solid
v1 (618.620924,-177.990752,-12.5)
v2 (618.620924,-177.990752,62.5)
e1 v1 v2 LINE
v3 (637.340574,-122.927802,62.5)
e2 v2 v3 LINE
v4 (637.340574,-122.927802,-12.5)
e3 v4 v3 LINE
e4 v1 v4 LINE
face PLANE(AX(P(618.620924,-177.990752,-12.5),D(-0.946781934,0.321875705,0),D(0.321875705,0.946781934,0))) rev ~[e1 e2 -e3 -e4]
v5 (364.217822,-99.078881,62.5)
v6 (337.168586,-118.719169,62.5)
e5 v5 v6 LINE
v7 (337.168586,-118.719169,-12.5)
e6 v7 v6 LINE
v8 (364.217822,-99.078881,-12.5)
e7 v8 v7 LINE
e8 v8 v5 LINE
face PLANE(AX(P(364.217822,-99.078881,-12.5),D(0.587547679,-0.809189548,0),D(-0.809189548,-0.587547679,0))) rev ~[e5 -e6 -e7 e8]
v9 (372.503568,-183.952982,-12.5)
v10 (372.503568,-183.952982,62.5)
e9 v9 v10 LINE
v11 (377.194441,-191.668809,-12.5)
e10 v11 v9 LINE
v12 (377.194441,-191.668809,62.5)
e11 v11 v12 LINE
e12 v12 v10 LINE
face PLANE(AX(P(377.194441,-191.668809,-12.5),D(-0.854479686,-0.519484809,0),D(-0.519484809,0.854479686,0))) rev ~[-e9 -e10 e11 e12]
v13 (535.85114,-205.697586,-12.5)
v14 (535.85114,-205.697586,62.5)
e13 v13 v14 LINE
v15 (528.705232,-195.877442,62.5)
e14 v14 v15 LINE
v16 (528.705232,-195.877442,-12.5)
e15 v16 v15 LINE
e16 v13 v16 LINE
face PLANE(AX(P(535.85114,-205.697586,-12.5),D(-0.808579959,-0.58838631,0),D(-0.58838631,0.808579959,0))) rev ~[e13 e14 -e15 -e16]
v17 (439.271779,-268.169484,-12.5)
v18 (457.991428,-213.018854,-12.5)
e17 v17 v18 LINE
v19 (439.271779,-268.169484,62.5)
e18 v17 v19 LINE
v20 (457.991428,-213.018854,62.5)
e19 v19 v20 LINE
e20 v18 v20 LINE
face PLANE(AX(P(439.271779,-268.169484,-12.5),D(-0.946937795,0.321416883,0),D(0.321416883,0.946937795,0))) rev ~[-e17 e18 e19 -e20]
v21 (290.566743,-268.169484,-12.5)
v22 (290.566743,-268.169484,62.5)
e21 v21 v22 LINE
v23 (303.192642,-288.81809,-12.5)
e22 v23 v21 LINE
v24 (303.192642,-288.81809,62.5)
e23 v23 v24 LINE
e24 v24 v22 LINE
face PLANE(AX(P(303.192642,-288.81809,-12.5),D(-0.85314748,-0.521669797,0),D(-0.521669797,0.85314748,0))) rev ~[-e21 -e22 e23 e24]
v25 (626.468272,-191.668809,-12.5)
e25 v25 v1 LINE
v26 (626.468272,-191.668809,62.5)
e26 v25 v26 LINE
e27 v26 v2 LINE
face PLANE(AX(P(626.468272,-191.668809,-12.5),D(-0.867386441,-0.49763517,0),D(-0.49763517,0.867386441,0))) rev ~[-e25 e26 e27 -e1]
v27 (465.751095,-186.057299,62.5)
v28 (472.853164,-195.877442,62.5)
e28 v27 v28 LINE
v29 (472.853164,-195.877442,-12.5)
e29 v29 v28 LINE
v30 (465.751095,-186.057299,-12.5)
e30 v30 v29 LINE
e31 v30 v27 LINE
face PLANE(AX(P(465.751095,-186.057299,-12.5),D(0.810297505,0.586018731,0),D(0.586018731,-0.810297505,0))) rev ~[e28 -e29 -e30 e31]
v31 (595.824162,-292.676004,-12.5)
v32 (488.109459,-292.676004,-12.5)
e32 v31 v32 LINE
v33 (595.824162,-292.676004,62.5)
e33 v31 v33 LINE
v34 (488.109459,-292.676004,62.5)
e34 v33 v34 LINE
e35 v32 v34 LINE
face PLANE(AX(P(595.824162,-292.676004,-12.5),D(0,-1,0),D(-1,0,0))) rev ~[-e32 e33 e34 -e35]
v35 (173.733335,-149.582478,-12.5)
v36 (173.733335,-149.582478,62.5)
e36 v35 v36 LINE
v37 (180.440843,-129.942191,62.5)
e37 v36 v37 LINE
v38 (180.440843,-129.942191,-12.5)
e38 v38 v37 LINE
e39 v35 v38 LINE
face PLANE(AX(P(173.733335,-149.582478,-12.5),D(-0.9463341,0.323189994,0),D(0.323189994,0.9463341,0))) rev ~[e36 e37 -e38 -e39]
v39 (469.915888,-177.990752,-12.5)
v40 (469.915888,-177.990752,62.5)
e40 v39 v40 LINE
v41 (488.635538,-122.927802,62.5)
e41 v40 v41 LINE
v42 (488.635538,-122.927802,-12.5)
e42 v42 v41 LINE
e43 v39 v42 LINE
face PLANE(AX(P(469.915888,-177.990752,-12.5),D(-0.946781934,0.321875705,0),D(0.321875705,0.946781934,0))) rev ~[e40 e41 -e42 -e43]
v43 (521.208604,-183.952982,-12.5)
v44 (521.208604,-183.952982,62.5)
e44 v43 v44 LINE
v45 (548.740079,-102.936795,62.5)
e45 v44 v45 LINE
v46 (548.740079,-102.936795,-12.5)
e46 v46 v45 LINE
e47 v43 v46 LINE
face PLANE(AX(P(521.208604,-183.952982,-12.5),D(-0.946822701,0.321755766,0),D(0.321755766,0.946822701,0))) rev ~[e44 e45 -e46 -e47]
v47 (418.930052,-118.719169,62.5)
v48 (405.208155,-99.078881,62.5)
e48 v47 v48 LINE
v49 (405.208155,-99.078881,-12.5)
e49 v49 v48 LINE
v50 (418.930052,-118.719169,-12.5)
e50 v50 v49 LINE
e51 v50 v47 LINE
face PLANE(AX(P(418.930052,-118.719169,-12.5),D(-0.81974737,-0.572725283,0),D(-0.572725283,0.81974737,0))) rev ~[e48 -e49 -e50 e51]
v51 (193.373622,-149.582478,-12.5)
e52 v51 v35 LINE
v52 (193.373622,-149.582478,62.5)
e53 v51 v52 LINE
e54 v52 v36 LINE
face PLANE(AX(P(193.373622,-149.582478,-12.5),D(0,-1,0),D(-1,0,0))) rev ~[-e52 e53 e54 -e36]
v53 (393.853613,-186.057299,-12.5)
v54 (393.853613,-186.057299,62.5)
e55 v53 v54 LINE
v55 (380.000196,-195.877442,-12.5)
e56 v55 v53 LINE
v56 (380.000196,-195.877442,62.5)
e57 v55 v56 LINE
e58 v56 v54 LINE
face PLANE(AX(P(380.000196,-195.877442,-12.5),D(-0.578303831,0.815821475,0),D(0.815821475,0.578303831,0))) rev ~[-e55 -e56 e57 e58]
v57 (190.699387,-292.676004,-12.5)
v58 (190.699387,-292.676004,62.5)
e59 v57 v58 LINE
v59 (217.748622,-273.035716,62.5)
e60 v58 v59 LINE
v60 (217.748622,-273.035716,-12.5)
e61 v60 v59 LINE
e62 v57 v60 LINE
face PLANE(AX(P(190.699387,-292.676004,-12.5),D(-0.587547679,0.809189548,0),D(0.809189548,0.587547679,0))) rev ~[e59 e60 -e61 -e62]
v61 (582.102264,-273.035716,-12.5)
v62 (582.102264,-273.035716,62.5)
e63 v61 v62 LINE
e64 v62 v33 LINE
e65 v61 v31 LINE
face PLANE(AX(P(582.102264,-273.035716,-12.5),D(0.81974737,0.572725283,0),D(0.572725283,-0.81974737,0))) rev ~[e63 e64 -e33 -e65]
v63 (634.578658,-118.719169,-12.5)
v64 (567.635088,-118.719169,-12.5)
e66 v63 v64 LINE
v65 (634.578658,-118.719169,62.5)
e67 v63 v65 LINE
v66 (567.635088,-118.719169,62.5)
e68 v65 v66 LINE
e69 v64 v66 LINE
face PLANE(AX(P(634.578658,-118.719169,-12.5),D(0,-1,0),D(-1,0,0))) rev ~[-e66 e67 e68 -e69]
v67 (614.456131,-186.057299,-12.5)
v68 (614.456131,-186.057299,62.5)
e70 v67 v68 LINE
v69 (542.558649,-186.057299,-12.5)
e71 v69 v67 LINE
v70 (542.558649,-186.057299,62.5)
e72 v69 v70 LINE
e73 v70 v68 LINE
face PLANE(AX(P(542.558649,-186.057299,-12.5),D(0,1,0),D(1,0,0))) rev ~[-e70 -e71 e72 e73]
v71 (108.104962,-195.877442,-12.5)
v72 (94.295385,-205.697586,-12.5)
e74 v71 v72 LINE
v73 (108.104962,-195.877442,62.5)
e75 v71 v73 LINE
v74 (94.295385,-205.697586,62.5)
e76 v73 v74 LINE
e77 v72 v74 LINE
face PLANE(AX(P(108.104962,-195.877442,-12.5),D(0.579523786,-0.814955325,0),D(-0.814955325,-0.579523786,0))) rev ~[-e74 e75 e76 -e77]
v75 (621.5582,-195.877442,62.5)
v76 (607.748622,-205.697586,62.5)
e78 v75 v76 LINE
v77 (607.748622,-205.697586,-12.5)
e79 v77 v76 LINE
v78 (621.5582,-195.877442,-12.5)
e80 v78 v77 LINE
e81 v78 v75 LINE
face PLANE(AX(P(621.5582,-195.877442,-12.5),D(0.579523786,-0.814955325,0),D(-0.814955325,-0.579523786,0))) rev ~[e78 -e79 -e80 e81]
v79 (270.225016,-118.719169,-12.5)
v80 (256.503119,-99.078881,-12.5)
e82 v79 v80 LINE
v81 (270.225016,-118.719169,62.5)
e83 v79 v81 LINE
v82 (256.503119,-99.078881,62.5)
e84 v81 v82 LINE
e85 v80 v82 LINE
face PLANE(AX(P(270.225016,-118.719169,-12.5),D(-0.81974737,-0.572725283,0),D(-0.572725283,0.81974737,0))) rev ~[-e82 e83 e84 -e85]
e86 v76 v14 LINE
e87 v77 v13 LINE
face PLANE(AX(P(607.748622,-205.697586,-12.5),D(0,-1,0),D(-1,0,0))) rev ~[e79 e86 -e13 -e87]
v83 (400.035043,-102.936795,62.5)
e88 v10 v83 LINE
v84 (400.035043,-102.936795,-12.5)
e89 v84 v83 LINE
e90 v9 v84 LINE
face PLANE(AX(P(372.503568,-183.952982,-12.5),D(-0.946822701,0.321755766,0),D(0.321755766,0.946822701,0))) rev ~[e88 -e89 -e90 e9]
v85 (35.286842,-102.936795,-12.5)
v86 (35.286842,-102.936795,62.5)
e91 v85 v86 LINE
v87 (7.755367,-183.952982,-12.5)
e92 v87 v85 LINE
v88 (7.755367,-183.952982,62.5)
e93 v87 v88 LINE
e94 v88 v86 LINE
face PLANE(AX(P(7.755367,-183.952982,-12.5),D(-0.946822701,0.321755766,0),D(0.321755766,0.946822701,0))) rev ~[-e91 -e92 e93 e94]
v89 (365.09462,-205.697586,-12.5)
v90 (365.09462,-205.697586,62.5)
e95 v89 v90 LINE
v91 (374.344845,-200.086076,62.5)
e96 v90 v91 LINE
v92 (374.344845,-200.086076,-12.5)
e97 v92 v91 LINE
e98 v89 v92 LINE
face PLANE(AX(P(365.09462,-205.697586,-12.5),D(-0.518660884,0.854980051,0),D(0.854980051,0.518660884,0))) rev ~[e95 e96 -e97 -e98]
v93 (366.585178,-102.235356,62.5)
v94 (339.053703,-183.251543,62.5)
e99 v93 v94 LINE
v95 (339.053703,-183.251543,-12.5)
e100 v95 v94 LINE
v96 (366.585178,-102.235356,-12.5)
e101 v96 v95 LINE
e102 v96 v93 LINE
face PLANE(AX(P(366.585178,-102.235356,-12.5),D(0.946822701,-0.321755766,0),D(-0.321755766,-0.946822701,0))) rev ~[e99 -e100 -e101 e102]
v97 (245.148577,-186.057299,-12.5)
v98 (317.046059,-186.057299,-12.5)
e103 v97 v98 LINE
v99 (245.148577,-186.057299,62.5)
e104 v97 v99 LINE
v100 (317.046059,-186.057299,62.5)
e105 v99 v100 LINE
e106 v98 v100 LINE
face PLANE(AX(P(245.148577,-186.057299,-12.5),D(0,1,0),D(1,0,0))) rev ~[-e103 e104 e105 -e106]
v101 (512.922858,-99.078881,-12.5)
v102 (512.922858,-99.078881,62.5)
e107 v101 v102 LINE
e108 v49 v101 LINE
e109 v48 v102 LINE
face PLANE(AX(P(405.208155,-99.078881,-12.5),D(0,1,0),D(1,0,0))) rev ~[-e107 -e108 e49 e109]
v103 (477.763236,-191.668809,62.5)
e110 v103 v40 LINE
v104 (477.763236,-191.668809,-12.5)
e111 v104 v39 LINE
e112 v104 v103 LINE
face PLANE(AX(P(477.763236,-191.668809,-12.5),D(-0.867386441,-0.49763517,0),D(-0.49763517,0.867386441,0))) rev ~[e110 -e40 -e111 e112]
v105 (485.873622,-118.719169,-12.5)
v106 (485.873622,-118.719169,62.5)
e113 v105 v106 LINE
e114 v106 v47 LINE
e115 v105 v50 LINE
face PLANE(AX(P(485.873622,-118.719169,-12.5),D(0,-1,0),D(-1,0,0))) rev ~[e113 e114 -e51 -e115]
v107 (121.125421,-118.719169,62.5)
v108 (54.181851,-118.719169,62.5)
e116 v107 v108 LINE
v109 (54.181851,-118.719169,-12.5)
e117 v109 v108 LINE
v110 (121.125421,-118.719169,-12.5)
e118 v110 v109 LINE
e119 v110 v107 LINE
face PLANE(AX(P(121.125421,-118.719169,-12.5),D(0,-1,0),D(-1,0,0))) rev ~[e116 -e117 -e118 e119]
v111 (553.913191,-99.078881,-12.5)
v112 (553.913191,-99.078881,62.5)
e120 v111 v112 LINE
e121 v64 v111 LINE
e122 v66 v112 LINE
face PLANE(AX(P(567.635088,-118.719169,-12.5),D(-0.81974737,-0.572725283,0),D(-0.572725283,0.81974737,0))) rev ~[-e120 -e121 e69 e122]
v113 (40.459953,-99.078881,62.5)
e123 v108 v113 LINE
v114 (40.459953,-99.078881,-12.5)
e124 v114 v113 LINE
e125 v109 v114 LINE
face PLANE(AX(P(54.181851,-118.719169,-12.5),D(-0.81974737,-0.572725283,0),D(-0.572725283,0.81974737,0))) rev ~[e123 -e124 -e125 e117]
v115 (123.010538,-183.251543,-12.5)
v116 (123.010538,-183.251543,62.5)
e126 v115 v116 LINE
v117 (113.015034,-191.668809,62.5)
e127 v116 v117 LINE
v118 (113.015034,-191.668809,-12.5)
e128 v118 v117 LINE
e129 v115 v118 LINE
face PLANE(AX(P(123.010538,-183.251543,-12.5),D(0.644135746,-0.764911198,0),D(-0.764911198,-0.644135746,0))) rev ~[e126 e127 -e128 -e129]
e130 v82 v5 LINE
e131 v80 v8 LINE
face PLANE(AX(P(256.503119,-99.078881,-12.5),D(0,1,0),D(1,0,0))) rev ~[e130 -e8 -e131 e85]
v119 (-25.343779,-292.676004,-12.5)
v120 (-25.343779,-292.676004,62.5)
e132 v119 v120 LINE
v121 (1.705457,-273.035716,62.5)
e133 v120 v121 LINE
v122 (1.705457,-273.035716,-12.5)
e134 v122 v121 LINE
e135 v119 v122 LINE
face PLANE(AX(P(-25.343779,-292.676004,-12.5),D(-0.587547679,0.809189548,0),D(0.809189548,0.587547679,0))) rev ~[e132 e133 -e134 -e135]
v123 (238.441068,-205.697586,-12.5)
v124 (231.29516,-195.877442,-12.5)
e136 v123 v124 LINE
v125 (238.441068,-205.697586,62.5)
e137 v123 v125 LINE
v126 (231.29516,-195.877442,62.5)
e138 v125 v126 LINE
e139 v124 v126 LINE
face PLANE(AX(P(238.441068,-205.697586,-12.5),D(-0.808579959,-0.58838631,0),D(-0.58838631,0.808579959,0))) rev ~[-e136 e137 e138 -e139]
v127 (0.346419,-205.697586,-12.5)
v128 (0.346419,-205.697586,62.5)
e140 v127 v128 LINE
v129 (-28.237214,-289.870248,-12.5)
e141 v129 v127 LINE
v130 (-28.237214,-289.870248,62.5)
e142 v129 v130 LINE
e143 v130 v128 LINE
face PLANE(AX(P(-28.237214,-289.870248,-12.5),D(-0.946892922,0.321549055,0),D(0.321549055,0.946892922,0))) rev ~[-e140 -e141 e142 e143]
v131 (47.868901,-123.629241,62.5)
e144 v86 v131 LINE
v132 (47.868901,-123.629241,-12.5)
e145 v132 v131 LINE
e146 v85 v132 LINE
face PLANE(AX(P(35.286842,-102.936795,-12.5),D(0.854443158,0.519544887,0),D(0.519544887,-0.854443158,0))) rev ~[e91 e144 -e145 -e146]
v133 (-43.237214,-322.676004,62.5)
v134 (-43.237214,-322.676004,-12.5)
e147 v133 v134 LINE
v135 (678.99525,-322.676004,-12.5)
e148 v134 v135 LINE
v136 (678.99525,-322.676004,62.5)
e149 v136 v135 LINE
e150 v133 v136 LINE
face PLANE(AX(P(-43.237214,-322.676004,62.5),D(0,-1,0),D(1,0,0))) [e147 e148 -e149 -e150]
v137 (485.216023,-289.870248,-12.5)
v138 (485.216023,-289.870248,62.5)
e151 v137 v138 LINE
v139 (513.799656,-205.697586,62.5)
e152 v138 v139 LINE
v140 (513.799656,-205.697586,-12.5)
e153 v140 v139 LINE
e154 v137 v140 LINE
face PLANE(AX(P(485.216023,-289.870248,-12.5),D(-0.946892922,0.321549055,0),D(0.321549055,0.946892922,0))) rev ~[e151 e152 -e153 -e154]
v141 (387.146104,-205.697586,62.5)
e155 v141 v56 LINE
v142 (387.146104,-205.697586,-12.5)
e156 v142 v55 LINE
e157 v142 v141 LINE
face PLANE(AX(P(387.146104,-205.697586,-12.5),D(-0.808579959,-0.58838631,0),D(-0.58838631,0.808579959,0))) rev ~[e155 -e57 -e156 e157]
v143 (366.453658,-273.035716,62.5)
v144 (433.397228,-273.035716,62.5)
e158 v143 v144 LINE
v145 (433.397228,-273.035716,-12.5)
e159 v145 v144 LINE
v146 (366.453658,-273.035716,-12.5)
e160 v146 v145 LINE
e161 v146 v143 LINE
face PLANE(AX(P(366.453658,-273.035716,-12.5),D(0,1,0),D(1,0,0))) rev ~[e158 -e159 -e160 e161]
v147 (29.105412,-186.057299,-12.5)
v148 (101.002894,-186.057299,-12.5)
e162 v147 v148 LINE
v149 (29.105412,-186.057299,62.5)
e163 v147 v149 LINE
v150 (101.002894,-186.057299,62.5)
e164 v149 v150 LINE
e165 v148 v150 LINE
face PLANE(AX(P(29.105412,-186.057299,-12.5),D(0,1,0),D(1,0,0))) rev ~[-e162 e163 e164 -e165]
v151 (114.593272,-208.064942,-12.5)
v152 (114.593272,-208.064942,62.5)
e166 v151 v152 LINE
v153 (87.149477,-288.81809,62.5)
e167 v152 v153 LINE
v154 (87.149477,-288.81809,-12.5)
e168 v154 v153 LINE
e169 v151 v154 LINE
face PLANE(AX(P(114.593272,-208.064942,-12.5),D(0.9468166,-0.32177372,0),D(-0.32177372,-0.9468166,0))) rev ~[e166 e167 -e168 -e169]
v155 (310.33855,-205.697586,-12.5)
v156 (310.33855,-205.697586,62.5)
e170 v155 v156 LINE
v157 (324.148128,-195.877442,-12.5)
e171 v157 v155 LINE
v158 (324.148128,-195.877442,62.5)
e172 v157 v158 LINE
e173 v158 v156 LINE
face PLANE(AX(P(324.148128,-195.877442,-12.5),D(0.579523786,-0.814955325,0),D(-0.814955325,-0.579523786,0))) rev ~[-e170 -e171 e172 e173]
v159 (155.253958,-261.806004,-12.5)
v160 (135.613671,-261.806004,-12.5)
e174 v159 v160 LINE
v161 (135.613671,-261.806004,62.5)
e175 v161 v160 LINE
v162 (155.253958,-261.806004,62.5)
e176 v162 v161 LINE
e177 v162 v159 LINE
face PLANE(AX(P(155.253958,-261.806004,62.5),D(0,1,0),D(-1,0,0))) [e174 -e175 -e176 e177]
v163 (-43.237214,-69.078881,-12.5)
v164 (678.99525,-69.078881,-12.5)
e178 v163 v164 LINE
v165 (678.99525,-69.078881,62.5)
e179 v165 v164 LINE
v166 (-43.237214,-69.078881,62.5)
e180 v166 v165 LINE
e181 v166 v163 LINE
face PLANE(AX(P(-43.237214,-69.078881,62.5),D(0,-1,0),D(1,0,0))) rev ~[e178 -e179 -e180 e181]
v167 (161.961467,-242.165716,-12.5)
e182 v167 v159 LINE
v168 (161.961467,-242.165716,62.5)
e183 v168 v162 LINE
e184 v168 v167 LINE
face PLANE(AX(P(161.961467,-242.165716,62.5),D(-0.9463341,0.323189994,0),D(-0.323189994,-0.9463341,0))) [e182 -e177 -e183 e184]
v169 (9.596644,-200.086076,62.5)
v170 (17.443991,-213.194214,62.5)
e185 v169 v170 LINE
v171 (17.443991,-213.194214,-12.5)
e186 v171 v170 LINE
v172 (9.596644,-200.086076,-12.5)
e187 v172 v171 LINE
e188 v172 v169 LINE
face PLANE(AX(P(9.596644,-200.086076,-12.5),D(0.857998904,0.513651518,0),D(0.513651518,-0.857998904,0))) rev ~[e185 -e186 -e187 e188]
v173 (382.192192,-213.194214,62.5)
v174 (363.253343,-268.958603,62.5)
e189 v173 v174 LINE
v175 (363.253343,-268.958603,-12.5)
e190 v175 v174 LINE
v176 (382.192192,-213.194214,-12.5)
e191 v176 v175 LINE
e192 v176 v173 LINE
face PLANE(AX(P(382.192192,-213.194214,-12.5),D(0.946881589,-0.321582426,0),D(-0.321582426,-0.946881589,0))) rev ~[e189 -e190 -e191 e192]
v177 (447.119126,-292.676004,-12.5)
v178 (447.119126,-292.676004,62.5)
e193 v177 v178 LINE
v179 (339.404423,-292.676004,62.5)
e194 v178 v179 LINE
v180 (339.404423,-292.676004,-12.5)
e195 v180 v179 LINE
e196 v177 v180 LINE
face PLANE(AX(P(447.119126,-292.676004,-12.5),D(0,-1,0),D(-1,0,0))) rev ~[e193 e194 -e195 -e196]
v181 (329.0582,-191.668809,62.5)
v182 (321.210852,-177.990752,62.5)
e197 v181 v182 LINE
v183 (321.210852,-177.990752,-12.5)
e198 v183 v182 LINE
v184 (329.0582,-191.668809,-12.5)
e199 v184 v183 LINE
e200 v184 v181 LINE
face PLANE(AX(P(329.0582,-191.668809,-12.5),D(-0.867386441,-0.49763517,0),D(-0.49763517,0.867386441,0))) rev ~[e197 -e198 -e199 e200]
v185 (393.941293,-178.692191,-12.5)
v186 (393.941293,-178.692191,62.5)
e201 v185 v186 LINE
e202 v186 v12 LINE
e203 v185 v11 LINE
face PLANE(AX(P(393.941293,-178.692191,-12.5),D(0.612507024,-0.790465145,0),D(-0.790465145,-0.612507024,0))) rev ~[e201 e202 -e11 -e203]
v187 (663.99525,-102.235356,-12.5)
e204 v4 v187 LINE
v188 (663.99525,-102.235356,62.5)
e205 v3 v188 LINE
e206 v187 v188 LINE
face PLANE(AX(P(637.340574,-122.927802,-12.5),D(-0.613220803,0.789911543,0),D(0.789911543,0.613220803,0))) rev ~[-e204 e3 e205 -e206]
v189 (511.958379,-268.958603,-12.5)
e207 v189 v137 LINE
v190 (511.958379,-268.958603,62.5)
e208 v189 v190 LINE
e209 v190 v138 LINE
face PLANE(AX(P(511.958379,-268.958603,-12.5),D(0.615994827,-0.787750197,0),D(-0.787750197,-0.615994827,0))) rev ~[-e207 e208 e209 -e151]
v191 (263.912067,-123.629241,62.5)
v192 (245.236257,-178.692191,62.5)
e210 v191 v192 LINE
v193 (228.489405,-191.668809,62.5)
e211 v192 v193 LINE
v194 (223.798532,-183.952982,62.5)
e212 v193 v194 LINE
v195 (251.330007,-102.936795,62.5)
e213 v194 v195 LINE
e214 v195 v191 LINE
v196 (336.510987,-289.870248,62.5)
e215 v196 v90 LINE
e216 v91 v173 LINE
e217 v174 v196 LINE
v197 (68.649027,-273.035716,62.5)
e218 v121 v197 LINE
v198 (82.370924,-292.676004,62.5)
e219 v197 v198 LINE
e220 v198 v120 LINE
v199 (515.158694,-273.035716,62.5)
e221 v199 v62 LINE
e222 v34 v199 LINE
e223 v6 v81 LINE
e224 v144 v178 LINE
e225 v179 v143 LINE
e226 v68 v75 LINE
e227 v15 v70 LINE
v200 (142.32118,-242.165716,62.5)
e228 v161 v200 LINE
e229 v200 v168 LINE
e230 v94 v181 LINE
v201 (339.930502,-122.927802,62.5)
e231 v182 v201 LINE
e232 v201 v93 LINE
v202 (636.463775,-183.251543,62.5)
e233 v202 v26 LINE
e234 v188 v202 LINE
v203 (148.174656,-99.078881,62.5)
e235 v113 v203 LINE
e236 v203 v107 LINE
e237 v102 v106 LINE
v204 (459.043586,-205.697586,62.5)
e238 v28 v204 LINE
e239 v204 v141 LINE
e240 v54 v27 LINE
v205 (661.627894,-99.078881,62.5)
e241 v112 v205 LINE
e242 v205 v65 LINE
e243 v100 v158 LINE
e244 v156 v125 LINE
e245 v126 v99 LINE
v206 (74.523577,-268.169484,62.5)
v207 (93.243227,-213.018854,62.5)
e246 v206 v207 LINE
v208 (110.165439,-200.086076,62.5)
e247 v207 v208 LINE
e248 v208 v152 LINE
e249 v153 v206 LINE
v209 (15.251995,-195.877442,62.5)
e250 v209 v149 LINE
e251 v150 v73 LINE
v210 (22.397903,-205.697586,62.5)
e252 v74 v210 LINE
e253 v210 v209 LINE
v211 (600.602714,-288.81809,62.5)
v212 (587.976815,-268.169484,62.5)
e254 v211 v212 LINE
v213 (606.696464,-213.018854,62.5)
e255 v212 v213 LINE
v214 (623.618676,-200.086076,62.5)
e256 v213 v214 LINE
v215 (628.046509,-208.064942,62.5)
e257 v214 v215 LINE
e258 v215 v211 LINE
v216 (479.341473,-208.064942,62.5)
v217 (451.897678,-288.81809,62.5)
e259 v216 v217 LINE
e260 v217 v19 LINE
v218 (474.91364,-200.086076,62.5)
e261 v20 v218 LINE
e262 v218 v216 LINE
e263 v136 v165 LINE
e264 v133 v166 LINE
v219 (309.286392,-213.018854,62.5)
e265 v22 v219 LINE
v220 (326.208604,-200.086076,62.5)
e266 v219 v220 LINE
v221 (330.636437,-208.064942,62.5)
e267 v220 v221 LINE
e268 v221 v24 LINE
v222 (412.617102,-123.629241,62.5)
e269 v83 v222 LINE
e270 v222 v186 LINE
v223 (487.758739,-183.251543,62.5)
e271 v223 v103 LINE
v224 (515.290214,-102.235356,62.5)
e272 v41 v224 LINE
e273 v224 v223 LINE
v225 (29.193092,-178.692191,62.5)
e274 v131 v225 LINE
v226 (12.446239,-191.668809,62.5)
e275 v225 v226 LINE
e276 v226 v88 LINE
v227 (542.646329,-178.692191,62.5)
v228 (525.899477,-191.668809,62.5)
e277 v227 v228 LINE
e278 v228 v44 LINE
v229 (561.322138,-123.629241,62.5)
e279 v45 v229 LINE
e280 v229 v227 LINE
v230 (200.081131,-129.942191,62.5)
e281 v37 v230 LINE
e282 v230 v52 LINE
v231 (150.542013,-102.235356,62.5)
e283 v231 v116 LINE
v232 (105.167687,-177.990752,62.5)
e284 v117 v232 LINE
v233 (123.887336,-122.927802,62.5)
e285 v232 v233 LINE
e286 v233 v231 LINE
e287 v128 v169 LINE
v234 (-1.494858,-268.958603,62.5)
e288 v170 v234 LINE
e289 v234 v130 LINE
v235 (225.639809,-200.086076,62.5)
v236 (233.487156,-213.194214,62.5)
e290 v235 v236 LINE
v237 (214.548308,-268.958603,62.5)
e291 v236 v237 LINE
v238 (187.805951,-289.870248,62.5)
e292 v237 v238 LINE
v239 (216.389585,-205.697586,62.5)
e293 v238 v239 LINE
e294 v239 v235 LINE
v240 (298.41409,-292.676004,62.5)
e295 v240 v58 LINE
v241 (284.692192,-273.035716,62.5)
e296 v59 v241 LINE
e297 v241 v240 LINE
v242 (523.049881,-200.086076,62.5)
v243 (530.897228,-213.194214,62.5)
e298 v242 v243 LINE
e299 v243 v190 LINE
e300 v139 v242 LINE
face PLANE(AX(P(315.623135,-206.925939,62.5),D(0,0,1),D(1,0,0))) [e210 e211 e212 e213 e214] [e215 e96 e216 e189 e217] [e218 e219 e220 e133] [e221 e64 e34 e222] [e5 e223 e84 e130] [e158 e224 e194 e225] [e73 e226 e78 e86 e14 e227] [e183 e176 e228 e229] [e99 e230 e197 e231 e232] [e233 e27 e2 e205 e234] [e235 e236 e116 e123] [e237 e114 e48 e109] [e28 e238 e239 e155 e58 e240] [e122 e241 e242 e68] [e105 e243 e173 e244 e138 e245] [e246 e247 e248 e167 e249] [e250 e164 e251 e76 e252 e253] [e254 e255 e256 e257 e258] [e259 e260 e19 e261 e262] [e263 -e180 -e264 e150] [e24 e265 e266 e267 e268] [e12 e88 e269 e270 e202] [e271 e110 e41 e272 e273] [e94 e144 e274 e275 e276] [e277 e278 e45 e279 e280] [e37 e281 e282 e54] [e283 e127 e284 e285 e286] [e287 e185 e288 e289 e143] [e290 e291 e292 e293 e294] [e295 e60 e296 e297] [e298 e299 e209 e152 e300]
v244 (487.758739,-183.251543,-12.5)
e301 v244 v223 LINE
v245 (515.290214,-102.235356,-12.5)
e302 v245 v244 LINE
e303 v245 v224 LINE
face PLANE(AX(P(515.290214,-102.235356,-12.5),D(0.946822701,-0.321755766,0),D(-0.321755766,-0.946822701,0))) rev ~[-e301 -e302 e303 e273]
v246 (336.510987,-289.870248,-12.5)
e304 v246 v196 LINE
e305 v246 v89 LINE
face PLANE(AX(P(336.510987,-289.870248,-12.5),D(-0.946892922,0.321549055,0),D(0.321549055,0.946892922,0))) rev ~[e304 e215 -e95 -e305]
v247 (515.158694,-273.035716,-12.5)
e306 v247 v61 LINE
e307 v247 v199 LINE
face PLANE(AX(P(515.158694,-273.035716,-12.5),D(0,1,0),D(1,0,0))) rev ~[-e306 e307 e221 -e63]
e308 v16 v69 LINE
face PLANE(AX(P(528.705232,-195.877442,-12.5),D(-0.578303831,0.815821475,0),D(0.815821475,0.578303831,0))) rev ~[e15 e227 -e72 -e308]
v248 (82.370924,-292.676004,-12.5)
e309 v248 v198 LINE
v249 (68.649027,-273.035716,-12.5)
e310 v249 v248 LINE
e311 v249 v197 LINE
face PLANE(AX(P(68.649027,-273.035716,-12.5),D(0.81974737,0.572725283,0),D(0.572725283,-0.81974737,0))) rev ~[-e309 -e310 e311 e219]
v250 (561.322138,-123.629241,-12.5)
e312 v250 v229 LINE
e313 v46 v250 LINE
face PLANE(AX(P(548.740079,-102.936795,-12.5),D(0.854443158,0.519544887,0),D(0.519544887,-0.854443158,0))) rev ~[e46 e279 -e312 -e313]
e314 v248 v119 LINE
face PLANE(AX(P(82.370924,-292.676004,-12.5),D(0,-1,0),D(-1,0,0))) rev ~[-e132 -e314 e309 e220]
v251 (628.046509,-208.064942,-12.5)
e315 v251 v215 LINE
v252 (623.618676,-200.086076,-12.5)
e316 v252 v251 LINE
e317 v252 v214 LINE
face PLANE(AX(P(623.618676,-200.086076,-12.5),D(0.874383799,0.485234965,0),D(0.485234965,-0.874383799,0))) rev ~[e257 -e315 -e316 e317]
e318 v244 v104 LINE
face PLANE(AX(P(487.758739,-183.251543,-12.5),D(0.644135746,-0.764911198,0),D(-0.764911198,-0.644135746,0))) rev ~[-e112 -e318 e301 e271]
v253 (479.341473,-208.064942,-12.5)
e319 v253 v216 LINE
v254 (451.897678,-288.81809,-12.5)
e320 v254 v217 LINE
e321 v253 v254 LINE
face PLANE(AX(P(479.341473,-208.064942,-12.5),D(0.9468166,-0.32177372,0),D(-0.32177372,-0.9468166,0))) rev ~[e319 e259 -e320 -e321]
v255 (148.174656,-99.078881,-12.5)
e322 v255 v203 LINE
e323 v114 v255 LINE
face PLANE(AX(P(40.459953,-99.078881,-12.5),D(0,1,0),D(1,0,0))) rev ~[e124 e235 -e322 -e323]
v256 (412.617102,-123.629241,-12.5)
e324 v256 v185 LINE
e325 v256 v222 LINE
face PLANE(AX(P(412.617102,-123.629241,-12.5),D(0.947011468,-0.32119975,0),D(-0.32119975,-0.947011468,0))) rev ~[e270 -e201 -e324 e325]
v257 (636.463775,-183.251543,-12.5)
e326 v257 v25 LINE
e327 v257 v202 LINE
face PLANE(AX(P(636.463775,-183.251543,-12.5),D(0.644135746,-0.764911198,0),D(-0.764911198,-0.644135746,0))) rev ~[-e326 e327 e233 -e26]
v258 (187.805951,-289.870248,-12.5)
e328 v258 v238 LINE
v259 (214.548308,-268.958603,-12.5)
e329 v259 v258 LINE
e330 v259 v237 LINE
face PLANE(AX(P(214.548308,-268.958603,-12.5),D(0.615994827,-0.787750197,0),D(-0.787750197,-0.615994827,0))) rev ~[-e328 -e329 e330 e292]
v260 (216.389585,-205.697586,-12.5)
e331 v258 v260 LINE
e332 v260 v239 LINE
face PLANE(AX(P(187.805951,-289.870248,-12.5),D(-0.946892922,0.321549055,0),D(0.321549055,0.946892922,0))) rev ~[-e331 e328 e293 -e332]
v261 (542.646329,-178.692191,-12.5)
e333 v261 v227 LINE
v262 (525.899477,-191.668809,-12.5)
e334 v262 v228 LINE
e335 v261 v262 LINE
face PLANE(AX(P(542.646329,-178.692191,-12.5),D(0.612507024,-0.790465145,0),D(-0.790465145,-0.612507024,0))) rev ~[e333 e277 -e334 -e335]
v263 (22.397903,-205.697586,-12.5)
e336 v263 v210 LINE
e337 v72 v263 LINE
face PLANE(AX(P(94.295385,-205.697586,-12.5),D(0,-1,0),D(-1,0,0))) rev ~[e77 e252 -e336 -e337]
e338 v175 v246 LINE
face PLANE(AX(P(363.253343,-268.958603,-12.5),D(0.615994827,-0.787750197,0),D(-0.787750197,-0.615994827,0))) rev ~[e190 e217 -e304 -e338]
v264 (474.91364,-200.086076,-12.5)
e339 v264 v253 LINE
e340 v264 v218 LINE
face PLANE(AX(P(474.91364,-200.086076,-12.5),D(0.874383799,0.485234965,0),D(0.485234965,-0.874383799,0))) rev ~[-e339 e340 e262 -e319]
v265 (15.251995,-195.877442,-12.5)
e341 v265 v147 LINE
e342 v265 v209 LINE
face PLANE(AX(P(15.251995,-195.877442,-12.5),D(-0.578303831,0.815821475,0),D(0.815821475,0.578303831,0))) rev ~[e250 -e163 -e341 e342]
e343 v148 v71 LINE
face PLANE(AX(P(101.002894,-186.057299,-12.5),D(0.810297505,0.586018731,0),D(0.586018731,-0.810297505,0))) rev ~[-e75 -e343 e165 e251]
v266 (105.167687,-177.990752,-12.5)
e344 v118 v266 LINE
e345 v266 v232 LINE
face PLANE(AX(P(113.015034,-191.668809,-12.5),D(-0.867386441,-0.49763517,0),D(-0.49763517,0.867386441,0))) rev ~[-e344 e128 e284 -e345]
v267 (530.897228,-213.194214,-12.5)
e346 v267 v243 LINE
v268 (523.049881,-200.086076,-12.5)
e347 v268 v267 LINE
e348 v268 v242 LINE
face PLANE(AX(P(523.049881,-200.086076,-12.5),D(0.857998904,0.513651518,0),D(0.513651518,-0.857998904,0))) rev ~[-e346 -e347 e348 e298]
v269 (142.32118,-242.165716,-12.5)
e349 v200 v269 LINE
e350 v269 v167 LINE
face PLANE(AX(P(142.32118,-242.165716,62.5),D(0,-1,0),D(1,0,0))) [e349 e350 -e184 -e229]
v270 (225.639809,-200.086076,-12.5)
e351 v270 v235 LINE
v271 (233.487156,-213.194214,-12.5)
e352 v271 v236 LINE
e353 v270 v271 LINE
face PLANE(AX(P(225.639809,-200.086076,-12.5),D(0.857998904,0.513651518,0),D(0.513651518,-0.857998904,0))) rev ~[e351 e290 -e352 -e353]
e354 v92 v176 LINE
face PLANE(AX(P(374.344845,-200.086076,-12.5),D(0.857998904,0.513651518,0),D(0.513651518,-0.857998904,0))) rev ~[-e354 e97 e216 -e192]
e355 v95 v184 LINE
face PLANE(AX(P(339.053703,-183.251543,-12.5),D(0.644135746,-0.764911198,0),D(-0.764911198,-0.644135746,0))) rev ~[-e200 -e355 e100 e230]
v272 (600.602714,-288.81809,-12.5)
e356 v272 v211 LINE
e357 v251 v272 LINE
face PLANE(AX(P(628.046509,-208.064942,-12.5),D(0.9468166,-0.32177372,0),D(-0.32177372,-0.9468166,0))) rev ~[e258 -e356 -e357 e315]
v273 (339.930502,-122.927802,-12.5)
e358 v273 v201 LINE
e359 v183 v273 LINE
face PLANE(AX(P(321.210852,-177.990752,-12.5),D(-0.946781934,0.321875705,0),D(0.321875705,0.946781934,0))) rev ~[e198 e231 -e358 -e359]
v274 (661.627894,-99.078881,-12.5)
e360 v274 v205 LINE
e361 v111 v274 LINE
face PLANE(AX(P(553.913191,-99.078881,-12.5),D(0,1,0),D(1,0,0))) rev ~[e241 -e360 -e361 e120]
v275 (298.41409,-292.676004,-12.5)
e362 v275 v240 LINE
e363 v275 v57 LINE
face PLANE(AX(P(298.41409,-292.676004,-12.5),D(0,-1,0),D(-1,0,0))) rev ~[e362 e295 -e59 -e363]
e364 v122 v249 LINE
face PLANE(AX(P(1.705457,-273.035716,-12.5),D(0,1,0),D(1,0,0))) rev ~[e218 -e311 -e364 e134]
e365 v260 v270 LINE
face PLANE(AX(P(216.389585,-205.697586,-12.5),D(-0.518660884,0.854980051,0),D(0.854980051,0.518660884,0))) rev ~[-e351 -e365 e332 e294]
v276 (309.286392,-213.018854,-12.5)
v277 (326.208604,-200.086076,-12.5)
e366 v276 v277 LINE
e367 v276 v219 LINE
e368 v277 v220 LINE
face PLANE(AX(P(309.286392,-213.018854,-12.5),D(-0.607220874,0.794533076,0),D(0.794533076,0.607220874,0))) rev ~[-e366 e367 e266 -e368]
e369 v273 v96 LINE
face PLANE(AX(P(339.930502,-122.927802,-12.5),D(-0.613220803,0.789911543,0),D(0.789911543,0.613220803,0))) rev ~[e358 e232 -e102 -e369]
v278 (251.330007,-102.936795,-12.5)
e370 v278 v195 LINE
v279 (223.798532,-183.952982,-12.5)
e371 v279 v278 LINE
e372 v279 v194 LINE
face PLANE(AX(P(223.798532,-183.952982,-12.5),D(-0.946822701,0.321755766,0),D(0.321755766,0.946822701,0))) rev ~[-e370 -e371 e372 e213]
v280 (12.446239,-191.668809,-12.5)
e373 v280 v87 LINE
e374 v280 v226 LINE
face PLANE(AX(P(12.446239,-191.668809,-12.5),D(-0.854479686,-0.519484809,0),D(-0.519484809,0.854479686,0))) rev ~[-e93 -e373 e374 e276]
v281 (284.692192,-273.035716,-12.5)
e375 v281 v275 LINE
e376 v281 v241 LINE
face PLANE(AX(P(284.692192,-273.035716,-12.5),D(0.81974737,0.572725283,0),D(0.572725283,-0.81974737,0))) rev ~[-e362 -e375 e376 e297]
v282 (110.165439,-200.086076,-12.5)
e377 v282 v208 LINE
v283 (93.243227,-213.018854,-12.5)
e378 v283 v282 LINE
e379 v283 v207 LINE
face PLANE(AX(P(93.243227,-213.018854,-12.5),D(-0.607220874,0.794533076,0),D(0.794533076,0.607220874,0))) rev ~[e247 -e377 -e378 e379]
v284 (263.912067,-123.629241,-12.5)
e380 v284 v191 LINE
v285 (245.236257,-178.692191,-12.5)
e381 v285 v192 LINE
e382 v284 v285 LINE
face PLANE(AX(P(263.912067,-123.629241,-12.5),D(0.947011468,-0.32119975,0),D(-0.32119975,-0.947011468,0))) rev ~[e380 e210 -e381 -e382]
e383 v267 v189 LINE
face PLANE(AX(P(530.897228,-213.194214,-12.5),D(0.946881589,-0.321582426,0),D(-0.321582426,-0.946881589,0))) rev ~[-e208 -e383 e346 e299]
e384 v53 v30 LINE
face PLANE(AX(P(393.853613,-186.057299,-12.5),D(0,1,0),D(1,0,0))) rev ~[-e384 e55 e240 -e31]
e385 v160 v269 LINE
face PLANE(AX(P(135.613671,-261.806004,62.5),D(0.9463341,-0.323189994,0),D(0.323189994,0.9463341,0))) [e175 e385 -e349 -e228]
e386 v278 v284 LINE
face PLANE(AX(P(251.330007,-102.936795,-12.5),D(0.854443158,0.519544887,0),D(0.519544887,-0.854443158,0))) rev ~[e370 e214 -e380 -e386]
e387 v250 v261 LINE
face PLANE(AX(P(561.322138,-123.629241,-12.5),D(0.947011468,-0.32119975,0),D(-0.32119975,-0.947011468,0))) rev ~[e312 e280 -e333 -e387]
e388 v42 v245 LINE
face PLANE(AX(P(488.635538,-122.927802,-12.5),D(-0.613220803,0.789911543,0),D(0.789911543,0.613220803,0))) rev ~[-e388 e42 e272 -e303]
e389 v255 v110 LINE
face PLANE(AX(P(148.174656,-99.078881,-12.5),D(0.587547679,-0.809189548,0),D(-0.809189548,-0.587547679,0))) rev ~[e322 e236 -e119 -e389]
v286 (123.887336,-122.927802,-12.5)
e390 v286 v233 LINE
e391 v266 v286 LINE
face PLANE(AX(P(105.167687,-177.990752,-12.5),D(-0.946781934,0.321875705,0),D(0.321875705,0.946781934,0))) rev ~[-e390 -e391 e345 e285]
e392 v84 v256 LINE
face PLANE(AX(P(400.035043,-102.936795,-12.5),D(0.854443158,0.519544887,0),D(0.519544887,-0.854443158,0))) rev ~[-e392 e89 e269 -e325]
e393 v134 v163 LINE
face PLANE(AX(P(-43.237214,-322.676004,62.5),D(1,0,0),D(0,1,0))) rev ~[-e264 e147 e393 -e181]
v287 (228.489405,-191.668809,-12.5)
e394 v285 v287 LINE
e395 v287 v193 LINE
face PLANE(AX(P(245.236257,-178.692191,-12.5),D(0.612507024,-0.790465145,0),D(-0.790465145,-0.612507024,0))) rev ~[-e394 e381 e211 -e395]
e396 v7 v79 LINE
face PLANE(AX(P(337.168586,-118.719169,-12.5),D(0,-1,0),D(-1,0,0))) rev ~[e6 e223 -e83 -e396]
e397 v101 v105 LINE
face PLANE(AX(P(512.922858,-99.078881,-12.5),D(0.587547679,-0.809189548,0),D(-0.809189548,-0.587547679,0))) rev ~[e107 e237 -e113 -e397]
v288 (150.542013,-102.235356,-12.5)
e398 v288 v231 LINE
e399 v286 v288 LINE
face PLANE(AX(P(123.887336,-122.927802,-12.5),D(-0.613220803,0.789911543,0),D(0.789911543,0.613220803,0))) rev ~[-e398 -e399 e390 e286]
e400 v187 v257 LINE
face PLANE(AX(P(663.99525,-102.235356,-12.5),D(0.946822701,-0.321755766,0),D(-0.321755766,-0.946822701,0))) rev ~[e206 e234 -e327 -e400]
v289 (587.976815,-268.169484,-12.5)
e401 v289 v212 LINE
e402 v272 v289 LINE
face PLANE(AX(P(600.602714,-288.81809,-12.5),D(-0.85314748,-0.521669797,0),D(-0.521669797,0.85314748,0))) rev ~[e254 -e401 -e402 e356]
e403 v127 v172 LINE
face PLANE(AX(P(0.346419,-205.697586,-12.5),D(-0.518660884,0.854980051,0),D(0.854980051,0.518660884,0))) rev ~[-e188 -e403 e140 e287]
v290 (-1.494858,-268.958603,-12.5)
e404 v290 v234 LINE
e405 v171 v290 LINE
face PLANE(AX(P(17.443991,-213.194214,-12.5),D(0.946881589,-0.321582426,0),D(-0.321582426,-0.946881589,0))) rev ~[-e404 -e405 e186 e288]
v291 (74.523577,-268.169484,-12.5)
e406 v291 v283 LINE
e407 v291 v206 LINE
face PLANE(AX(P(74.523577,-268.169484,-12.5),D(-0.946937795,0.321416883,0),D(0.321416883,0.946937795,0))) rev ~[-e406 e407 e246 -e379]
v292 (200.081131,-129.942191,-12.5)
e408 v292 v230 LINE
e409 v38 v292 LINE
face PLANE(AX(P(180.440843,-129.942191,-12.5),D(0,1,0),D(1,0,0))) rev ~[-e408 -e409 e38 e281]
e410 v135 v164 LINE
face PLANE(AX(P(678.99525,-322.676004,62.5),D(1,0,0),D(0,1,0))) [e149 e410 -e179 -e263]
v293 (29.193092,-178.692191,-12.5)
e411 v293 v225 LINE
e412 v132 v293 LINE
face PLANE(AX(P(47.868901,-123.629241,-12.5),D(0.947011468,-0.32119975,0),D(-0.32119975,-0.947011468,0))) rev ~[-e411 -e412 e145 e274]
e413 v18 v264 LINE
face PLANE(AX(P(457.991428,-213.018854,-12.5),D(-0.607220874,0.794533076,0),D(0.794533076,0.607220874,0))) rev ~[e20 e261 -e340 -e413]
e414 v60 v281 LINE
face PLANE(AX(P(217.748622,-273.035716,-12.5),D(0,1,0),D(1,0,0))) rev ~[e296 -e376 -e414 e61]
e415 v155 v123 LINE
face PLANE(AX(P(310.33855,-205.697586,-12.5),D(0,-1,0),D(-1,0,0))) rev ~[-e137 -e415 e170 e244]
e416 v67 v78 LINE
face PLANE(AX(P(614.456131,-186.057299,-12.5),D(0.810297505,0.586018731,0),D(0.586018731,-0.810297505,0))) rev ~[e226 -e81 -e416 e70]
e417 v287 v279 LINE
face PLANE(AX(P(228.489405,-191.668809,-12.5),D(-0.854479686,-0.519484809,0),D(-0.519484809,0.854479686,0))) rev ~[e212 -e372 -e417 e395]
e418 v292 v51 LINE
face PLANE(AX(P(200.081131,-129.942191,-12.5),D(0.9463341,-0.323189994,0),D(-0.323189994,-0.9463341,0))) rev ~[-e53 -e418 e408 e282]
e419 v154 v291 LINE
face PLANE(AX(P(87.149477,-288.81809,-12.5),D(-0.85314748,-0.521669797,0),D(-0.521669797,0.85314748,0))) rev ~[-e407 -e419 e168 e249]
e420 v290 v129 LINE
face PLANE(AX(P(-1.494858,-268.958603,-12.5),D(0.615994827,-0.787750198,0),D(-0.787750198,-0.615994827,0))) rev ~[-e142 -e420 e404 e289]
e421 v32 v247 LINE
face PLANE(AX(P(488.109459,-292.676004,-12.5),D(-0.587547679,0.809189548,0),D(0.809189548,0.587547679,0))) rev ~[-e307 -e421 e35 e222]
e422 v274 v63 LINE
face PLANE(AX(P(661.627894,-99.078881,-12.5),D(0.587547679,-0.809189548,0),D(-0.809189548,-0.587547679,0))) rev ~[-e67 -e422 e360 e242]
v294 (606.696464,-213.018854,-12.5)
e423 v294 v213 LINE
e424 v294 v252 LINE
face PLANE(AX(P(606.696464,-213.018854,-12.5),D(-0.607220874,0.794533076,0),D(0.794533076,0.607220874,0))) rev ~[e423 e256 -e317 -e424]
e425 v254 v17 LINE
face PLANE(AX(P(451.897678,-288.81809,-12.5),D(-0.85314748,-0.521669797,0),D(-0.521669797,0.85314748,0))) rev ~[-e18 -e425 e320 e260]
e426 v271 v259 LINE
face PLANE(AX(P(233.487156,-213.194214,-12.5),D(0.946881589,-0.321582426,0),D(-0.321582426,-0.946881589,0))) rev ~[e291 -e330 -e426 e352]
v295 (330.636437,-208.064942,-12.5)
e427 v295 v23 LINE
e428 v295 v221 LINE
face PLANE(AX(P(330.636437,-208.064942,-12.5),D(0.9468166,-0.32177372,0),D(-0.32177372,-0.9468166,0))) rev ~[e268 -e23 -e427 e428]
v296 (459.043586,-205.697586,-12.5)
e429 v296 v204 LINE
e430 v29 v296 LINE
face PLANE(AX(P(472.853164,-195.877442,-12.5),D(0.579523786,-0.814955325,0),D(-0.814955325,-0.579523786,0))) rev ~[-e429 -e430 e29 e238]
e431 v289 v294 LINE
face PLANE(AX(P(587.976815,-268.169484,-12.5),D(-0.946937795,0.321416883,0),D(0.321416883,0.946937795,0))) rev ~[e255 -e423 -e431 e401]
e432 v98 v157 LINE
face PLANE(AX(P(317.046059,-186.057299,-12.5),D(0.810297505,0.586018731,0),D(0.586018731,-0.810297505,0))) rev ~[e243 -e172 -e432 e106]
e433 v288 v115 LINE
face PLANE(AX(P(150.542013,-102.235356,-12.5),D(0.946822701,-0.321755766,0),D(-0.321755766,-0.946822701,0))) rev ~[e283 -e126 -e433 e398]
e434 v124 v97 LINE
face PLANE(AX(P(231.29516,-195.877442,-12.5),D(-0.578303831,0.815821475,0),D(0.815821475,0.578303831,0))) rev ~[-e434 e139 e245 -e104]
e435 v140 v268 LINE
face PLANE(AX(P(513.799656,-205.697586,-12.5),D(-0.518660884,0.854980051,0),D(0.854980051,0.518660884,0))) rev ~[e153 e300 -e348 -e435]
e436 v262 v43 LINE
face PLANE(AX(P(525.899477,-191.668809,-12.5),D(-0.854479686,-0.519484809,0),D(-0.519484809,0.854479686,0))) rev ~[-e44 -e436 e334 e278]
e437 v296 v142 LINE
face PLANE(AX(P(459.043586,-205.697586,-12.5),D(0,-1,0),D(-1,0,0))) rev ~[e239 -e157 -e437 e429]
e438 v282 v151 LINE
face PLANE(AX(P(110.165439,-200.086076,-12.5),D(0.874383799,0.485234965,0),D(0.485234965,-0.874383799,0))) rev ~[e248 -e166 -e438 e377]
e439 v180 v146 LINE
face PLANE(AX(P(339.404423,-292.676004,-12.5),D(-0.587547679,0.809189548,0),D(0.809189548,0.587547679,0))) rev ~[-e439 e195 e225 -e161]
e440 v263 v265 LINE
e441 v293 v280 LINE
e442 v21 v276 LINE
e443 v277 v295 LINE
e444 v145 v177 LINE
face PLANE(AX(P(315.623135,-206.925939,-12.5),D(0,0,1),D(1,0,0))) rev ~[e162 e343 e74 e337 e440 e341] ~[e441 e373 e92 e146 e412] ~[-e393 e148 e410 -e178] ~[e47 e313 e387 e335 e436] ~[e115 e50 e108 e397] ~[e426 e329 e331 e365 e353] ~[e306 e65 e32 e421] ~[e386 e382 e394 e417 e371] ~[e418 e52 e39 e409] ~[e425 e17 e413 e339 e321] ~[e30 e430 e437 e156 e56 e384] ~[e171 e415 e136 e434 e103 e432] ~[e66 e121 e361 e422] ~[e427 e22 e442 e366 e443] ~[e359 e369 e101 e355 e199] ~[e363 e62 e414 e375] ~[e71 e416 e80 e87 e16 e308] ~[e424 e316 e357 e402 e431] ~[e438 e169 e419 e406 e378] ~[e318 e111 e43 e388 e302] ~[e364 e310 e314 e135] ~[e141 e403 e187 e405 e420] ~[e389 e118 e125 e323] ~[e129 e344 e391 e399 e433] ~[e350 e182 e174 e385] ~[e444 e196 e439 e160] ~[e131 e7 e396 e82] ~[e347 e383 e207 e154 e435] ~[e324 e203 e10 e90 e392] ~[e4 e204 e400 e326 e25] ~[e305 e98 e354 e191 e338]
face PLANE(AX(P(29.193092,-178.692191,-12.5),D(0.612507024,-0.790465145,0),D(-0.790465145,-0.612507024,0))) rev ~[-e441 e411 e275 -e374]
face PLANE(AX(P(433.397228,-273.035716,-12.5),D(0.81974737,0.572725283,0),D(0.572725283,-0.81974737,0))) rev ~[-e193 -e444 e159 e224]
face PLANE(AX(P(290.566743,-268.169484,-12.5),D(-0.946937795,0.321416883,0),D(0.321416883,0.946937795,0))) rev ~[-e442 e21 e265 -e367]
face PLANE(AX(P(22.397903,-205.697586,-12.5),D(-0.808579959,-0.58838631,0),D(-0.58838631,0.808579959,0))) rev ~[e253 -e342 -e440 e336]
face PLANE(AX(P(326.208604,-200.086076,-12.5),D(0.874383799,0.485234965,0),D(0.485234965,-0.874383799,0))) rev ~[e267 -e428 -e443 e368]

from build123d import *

# Parameters (mm, degrees)
SKETCH_1_W            = 500
SKETCH_1_H            = 220
EXTRUDE_1_DEPTH       = 50
CUT_EXTRUDE_1_DEPTH   = 65
SKETCH_3_W            = 24.993501938
SKETCH_3_H            = 24.754329671
EXTRUDE_2_DEPTH       = 50
SKETCH_4_W            = 557.488309353
SKETCH_4_H            = 263.064748201
SKETCH_4_W_2          = 497.488309353
SKETCH_4_H_2          = 203.064748201
CUT_EXTRUDE_1_2_DEPTH = 84
SCALE_1_SCALE         = 1.5
SKETCH_8_W            = 822.232464029
SKETCH_8_H            = 353.597122302
SKETCH_8_W_2          = 722.232464029
SKETCH_8_H_2          = 253.597122302
CUT_EXTRUDE_2_DEPTH   = 180


with BuildPart() as part:
    # Эскиз1 → Бобышка-Вытянуть1 (new body)
    with BuildSketch(Plane.XY):
        with Locations((315.178539616, -203.237931197)):
            Rectangle(SKETCH_1_W, SKETCH_1_H)
        Polygon((203.546220768, -131.339893042), (185.513397027, -144.433418222), (140.884350264, -144.433418222), (131.736418609, -131.339893042), align=None, mode=Mode.SUBTRACT)
        Polygon((159.677066091, -260.404641243), (87.867263933, -260.404641243), (105.900087674, -247.311116064), (150.529134437, -247.311116064), align=None, mode=Mode.SUBTRACT)
        Polygon((116.392443789, -207.416781531), (103.766544509, -244.593040524), (85.938307098, -258.534137646), (104.994062494, -202.419029733), (111.160879041, -198.678022538), align=None, mode=Mode.SUBTRACT)
        Polygon((109.933361055, -187.922626855), (128.287677602, -133.911835488), (136.67571717, -147.706799517), (124.225177602, -184.41543261), (113.060609257, -193.066511747), align=None, mode=Mode.SUBTRACT)
        Polygon((181.158630839, -203.997267143), (162.86276753, -257.832698797), (154.445501343, -244.066961387), (166.92526753, -207.299875056), (178.20674235, -198.678022538), align=None, mode=Mode.SUBTRACT)
        Polygon((174.874907818, -183.947806711), (187.354674005, -147.239173618), (205.124458178, -133.444209589), (186.770141631, -187.455000956), (180.106472566, -193.066511747), align=None, mode=Mode.SUBTRACT)
        Polygon((172.098379041, -189.325504553), (176.833091271, -195.872267143), (167.626706379, -202.419029733), (119.695051703, -202.419029733), (114.931112854, -195.872267143), (124.166724365, -189.325504553), align=None, mode=Mode.SUBTRACT)
        Polygon((188.173019329, -260.404641243), (192.615465372, -247.311116064), (205.708990552, -247.311116064), (201.266544509, -260.404641243), align=None, mode=Mode.SUBTRACT)
        Polygon((220.585339473, -165.00895779), (225.057012134, -151.91543261), (238.150537314, -151.91543261), (233.678864652, -165.00895779), align=None, mode=Mode.SUBTRACT)
        Polygon((347.574997746, -131.339893042), (329.542174005, -144.433418222), (284.913127242, -144.433418222), (275.765195588, -131.339893042), align=None, mode=Mode.SUBTRACT)
        Polygon((303.70584307, -260.404641243), (231.896040911, -260.404641243), (249.928864652, -247.311116064), (294.557911415, -247.311116064), align=None, mode=Mode.SUBTRACT)
        Polygon((260.421220768, -207.416781531), (247.795321487, -244.593040524), (229.967084077, -258.534137646), (249.022839473, -202.419029733), (255.189656019, -198.678022538), align=None, mode=Mode.SUBTRACT)
        Polygon((253.962138034, -187.922626855), (272.31645458, -133.911835488), (280.704494149, -147.706799517), (268.25395458, -184.41543261), (257.089386235, -193.066511747), align=None, mode=Mode.SUBTRACT)
        Polygon((325.187407818, -203.997267143), (306.891544509, -257.832698797), (298.474278321, -244.066961387), (310.954044509, -207.299875056), (322.235519329, -198.678022538), align=None, mode=Mode.SUBTRACT)
        Polygon((318.903684796, -183.947806711), (331.383450983, -147.239173618), (349.153235156, -133.444209589), (330.798918609, -187.455000956), (324.135249545, -193.066511747), align=None, mode=Mode.SUBTRACT)
        Polygon((316.127156019, -189.325504553), (320.86186825, -195.872267143), (311.655483357, -202.419029733), (263.723828681, -202.419029733), (258.959889832, -195.872267143), (268.195501343, -189.325504553), align=None, mode=Mode.SUBTRACT)
        Polygon((446.711688393, -131.339893042), (428.678864652, -144.433418222), (384.04981789, -144.433418222), (374.901886235, -131.339893042), align=None, mode=Mode.SUBTRACT)
        Polygon((402.842533717, -260.404641243), (331.032731559, -260.404641243), (349.0655553, -247.311116064), (393.694602063, -247.311116064), align=None, mode=Mode.SUBTRACT)
        Polygon((359.557911415, -207.416781531), (346.932012134, -244.593040524), (329.103774724, -258.534137646), (348.15953012, -202.419029733), (354.326346667, -198.678022538), align=None, mode=Mode.SUBTRACT)
        Polygon((353.098828681, -187.922626855), (371.453145228, -133.911835488), (379.841184796, -147.706799517), (367.390645228, -184.41543261), (356.226076883, -193.066511747), align=None, mode=Mode.SUBTRACT)
        Polygon((424.324098465, -203.997267143), (406.028235156, -257.832698797), (397.610968969, -244.066961387), (410.090735156, -207.299875056), (421.372209976, -198.678022538), align=None, mode=Mode.SUBTRACT)
        Polygon((418.040375444, -183.947806711), (430.520141631, -147.239173618), (448.289925804, -133.444209589), (429.935609257, -187.455000956), (423.271940192, -193.066511747), align=None, mode=Mode.SUBTRACT)
        Polygon((415.263846667, -189.325504553), (419.998558897, -195.872267143), (410.792174005, -202.419029733), (362.860519329, -202.419029733), (358.09658048, -195.872267143), (367.332191991, -189.325504553), align=None, mode=Mode.SUBTRACT)
        Polygon((545.848379041, -131.339893042), (527.8155553, -144.433418222), (483.186508537, -144.433418222), (474.038576883, -131.339893042), align=None, mode=Mode.SUBTRACT)
        Polygon((501.979224365, -260.404641243), (430.169422206, -260.404641243), (448.202245947, -247.311116064), (492.83129271, -247.311116064), align=None, mode=Mode.SUBTRACT)
        Polygon((458.694602063, -207.416781531), (446.068702782, -244.593040524), (428.240465372, -258.534137646), (447.296220768, -202.419029733), (453.463037314, -198.678022538), align=None, mode=Mode.SUBTRACT)
        Polygon((452.235519329, -187.922626855), (470.589835875, -133.911835488), (478.977875444, -147.706799517), (466.527335875, -184.41543261), (455.36276753, -193.066511747), align=None, mode=Mode.SUBTRACT)
        Polygon((523.460789113, -203.997267143), (505.164925804, -257.832698797), (496.747659616, -244.066961387), (509.227425804, -207.299875056), (520.508900624, -198.678022538), align=None, mode=Mode.SUBTRACT)
        Polygon((517.177066091, -183.947806711), (529.656832278, -147.239173618), (547.426616451, -133.444209589), (529.072299904, -187.455000956), (522.408630839, -193.066511747), align=None, mode=Mode.SUBTRACT)
        Polygon((514.400537314, -189.325504553), (519.135249545, -195.872267143), (509.928864652, -202.419029733), (461.997209976, -202.419029733), (457.233271127, -195.872267143), (466.468882638, -189.325504553), align=None, mode=Mode.SUBTRACT)
    extrude(amount=EXTRUDE_1_DEPTH)

    # Эскиз2 → Cut-Extrude 1 (cut)
    with BuildSketch(Plane.XY.offset(50)):
        Polygon((225.057012134, -151.91543261), (238.150537314, -151.91543261), (233.678864652, -165.00895779), (220.585339473, -165.00895779), align=None)
        Polygon((199.643902872, -226.731116064), (212.737428052, -226.731116064), (208.26575539, -239.824641243), (195.17223021, -239.824641243), align=None)
    extrude(amount=-CUT_EXTRUDE_1_DEPTH, mode=Mode.SUBTRACT)

    # Эскиз3 → Бобышка-Вытянуть2 (add)
    with BuildSketch(Plane.XY.offset(50)):
        with Locations((196.457377331, -256.289777907)):
            Rectangle(SKETCH_3_W, SKETCH_3_H)
    extrude(amount=-EXTRUDE_2_DEPTH)

    # Эскиз4 → Cut-Extrude 1 2 (cut)
    with BuildSketch(Plane.XY.offset(50)):
        with Locations((316.682461775, -195.872267142)):
            Rectangle(SKETCH_4_W, SKETCH_4_H)
        with Locations((316.682461775, -195.872267142)):
            Rectangle(SKETCH_4_W_2, SKETCH_4_H_2, mode=Mode.SUBTRACT)
    extrude(amount=-CUT_EXTRUDE_1_2_DEPTH, mode=Mode.SUBTRACT)


with BuildPart() as part_1:
    # Масштаб1: scaled about (314.289349403, -195.861916492, 25)
    add(part.part.scale(SCALE_1_SCALE).moved(Location((-157.144674702, 97.930958246, -12.5))))

    # Эскиз8 → Вырез-Вытянуть-Тонкостенный2 (cut)
    with BuildSketch(Plane.XY.offset(62.5)):
        with Locations((317.879017961, -195.877442468)):
            Rectangle(SKETCH_8_W, SKETCH_8_H)
        with Locations((317.879017961, -195.877442468)):
            Rectangle(SKETCH_8_W_2, SKETCH_8_H_2, mode=Mode.SUBTRACT)
    extrude(amount=-CUT_EXTRUDE_2_DEPTH, mode=Mode.SUBTRACT)


solid = part_1.part
